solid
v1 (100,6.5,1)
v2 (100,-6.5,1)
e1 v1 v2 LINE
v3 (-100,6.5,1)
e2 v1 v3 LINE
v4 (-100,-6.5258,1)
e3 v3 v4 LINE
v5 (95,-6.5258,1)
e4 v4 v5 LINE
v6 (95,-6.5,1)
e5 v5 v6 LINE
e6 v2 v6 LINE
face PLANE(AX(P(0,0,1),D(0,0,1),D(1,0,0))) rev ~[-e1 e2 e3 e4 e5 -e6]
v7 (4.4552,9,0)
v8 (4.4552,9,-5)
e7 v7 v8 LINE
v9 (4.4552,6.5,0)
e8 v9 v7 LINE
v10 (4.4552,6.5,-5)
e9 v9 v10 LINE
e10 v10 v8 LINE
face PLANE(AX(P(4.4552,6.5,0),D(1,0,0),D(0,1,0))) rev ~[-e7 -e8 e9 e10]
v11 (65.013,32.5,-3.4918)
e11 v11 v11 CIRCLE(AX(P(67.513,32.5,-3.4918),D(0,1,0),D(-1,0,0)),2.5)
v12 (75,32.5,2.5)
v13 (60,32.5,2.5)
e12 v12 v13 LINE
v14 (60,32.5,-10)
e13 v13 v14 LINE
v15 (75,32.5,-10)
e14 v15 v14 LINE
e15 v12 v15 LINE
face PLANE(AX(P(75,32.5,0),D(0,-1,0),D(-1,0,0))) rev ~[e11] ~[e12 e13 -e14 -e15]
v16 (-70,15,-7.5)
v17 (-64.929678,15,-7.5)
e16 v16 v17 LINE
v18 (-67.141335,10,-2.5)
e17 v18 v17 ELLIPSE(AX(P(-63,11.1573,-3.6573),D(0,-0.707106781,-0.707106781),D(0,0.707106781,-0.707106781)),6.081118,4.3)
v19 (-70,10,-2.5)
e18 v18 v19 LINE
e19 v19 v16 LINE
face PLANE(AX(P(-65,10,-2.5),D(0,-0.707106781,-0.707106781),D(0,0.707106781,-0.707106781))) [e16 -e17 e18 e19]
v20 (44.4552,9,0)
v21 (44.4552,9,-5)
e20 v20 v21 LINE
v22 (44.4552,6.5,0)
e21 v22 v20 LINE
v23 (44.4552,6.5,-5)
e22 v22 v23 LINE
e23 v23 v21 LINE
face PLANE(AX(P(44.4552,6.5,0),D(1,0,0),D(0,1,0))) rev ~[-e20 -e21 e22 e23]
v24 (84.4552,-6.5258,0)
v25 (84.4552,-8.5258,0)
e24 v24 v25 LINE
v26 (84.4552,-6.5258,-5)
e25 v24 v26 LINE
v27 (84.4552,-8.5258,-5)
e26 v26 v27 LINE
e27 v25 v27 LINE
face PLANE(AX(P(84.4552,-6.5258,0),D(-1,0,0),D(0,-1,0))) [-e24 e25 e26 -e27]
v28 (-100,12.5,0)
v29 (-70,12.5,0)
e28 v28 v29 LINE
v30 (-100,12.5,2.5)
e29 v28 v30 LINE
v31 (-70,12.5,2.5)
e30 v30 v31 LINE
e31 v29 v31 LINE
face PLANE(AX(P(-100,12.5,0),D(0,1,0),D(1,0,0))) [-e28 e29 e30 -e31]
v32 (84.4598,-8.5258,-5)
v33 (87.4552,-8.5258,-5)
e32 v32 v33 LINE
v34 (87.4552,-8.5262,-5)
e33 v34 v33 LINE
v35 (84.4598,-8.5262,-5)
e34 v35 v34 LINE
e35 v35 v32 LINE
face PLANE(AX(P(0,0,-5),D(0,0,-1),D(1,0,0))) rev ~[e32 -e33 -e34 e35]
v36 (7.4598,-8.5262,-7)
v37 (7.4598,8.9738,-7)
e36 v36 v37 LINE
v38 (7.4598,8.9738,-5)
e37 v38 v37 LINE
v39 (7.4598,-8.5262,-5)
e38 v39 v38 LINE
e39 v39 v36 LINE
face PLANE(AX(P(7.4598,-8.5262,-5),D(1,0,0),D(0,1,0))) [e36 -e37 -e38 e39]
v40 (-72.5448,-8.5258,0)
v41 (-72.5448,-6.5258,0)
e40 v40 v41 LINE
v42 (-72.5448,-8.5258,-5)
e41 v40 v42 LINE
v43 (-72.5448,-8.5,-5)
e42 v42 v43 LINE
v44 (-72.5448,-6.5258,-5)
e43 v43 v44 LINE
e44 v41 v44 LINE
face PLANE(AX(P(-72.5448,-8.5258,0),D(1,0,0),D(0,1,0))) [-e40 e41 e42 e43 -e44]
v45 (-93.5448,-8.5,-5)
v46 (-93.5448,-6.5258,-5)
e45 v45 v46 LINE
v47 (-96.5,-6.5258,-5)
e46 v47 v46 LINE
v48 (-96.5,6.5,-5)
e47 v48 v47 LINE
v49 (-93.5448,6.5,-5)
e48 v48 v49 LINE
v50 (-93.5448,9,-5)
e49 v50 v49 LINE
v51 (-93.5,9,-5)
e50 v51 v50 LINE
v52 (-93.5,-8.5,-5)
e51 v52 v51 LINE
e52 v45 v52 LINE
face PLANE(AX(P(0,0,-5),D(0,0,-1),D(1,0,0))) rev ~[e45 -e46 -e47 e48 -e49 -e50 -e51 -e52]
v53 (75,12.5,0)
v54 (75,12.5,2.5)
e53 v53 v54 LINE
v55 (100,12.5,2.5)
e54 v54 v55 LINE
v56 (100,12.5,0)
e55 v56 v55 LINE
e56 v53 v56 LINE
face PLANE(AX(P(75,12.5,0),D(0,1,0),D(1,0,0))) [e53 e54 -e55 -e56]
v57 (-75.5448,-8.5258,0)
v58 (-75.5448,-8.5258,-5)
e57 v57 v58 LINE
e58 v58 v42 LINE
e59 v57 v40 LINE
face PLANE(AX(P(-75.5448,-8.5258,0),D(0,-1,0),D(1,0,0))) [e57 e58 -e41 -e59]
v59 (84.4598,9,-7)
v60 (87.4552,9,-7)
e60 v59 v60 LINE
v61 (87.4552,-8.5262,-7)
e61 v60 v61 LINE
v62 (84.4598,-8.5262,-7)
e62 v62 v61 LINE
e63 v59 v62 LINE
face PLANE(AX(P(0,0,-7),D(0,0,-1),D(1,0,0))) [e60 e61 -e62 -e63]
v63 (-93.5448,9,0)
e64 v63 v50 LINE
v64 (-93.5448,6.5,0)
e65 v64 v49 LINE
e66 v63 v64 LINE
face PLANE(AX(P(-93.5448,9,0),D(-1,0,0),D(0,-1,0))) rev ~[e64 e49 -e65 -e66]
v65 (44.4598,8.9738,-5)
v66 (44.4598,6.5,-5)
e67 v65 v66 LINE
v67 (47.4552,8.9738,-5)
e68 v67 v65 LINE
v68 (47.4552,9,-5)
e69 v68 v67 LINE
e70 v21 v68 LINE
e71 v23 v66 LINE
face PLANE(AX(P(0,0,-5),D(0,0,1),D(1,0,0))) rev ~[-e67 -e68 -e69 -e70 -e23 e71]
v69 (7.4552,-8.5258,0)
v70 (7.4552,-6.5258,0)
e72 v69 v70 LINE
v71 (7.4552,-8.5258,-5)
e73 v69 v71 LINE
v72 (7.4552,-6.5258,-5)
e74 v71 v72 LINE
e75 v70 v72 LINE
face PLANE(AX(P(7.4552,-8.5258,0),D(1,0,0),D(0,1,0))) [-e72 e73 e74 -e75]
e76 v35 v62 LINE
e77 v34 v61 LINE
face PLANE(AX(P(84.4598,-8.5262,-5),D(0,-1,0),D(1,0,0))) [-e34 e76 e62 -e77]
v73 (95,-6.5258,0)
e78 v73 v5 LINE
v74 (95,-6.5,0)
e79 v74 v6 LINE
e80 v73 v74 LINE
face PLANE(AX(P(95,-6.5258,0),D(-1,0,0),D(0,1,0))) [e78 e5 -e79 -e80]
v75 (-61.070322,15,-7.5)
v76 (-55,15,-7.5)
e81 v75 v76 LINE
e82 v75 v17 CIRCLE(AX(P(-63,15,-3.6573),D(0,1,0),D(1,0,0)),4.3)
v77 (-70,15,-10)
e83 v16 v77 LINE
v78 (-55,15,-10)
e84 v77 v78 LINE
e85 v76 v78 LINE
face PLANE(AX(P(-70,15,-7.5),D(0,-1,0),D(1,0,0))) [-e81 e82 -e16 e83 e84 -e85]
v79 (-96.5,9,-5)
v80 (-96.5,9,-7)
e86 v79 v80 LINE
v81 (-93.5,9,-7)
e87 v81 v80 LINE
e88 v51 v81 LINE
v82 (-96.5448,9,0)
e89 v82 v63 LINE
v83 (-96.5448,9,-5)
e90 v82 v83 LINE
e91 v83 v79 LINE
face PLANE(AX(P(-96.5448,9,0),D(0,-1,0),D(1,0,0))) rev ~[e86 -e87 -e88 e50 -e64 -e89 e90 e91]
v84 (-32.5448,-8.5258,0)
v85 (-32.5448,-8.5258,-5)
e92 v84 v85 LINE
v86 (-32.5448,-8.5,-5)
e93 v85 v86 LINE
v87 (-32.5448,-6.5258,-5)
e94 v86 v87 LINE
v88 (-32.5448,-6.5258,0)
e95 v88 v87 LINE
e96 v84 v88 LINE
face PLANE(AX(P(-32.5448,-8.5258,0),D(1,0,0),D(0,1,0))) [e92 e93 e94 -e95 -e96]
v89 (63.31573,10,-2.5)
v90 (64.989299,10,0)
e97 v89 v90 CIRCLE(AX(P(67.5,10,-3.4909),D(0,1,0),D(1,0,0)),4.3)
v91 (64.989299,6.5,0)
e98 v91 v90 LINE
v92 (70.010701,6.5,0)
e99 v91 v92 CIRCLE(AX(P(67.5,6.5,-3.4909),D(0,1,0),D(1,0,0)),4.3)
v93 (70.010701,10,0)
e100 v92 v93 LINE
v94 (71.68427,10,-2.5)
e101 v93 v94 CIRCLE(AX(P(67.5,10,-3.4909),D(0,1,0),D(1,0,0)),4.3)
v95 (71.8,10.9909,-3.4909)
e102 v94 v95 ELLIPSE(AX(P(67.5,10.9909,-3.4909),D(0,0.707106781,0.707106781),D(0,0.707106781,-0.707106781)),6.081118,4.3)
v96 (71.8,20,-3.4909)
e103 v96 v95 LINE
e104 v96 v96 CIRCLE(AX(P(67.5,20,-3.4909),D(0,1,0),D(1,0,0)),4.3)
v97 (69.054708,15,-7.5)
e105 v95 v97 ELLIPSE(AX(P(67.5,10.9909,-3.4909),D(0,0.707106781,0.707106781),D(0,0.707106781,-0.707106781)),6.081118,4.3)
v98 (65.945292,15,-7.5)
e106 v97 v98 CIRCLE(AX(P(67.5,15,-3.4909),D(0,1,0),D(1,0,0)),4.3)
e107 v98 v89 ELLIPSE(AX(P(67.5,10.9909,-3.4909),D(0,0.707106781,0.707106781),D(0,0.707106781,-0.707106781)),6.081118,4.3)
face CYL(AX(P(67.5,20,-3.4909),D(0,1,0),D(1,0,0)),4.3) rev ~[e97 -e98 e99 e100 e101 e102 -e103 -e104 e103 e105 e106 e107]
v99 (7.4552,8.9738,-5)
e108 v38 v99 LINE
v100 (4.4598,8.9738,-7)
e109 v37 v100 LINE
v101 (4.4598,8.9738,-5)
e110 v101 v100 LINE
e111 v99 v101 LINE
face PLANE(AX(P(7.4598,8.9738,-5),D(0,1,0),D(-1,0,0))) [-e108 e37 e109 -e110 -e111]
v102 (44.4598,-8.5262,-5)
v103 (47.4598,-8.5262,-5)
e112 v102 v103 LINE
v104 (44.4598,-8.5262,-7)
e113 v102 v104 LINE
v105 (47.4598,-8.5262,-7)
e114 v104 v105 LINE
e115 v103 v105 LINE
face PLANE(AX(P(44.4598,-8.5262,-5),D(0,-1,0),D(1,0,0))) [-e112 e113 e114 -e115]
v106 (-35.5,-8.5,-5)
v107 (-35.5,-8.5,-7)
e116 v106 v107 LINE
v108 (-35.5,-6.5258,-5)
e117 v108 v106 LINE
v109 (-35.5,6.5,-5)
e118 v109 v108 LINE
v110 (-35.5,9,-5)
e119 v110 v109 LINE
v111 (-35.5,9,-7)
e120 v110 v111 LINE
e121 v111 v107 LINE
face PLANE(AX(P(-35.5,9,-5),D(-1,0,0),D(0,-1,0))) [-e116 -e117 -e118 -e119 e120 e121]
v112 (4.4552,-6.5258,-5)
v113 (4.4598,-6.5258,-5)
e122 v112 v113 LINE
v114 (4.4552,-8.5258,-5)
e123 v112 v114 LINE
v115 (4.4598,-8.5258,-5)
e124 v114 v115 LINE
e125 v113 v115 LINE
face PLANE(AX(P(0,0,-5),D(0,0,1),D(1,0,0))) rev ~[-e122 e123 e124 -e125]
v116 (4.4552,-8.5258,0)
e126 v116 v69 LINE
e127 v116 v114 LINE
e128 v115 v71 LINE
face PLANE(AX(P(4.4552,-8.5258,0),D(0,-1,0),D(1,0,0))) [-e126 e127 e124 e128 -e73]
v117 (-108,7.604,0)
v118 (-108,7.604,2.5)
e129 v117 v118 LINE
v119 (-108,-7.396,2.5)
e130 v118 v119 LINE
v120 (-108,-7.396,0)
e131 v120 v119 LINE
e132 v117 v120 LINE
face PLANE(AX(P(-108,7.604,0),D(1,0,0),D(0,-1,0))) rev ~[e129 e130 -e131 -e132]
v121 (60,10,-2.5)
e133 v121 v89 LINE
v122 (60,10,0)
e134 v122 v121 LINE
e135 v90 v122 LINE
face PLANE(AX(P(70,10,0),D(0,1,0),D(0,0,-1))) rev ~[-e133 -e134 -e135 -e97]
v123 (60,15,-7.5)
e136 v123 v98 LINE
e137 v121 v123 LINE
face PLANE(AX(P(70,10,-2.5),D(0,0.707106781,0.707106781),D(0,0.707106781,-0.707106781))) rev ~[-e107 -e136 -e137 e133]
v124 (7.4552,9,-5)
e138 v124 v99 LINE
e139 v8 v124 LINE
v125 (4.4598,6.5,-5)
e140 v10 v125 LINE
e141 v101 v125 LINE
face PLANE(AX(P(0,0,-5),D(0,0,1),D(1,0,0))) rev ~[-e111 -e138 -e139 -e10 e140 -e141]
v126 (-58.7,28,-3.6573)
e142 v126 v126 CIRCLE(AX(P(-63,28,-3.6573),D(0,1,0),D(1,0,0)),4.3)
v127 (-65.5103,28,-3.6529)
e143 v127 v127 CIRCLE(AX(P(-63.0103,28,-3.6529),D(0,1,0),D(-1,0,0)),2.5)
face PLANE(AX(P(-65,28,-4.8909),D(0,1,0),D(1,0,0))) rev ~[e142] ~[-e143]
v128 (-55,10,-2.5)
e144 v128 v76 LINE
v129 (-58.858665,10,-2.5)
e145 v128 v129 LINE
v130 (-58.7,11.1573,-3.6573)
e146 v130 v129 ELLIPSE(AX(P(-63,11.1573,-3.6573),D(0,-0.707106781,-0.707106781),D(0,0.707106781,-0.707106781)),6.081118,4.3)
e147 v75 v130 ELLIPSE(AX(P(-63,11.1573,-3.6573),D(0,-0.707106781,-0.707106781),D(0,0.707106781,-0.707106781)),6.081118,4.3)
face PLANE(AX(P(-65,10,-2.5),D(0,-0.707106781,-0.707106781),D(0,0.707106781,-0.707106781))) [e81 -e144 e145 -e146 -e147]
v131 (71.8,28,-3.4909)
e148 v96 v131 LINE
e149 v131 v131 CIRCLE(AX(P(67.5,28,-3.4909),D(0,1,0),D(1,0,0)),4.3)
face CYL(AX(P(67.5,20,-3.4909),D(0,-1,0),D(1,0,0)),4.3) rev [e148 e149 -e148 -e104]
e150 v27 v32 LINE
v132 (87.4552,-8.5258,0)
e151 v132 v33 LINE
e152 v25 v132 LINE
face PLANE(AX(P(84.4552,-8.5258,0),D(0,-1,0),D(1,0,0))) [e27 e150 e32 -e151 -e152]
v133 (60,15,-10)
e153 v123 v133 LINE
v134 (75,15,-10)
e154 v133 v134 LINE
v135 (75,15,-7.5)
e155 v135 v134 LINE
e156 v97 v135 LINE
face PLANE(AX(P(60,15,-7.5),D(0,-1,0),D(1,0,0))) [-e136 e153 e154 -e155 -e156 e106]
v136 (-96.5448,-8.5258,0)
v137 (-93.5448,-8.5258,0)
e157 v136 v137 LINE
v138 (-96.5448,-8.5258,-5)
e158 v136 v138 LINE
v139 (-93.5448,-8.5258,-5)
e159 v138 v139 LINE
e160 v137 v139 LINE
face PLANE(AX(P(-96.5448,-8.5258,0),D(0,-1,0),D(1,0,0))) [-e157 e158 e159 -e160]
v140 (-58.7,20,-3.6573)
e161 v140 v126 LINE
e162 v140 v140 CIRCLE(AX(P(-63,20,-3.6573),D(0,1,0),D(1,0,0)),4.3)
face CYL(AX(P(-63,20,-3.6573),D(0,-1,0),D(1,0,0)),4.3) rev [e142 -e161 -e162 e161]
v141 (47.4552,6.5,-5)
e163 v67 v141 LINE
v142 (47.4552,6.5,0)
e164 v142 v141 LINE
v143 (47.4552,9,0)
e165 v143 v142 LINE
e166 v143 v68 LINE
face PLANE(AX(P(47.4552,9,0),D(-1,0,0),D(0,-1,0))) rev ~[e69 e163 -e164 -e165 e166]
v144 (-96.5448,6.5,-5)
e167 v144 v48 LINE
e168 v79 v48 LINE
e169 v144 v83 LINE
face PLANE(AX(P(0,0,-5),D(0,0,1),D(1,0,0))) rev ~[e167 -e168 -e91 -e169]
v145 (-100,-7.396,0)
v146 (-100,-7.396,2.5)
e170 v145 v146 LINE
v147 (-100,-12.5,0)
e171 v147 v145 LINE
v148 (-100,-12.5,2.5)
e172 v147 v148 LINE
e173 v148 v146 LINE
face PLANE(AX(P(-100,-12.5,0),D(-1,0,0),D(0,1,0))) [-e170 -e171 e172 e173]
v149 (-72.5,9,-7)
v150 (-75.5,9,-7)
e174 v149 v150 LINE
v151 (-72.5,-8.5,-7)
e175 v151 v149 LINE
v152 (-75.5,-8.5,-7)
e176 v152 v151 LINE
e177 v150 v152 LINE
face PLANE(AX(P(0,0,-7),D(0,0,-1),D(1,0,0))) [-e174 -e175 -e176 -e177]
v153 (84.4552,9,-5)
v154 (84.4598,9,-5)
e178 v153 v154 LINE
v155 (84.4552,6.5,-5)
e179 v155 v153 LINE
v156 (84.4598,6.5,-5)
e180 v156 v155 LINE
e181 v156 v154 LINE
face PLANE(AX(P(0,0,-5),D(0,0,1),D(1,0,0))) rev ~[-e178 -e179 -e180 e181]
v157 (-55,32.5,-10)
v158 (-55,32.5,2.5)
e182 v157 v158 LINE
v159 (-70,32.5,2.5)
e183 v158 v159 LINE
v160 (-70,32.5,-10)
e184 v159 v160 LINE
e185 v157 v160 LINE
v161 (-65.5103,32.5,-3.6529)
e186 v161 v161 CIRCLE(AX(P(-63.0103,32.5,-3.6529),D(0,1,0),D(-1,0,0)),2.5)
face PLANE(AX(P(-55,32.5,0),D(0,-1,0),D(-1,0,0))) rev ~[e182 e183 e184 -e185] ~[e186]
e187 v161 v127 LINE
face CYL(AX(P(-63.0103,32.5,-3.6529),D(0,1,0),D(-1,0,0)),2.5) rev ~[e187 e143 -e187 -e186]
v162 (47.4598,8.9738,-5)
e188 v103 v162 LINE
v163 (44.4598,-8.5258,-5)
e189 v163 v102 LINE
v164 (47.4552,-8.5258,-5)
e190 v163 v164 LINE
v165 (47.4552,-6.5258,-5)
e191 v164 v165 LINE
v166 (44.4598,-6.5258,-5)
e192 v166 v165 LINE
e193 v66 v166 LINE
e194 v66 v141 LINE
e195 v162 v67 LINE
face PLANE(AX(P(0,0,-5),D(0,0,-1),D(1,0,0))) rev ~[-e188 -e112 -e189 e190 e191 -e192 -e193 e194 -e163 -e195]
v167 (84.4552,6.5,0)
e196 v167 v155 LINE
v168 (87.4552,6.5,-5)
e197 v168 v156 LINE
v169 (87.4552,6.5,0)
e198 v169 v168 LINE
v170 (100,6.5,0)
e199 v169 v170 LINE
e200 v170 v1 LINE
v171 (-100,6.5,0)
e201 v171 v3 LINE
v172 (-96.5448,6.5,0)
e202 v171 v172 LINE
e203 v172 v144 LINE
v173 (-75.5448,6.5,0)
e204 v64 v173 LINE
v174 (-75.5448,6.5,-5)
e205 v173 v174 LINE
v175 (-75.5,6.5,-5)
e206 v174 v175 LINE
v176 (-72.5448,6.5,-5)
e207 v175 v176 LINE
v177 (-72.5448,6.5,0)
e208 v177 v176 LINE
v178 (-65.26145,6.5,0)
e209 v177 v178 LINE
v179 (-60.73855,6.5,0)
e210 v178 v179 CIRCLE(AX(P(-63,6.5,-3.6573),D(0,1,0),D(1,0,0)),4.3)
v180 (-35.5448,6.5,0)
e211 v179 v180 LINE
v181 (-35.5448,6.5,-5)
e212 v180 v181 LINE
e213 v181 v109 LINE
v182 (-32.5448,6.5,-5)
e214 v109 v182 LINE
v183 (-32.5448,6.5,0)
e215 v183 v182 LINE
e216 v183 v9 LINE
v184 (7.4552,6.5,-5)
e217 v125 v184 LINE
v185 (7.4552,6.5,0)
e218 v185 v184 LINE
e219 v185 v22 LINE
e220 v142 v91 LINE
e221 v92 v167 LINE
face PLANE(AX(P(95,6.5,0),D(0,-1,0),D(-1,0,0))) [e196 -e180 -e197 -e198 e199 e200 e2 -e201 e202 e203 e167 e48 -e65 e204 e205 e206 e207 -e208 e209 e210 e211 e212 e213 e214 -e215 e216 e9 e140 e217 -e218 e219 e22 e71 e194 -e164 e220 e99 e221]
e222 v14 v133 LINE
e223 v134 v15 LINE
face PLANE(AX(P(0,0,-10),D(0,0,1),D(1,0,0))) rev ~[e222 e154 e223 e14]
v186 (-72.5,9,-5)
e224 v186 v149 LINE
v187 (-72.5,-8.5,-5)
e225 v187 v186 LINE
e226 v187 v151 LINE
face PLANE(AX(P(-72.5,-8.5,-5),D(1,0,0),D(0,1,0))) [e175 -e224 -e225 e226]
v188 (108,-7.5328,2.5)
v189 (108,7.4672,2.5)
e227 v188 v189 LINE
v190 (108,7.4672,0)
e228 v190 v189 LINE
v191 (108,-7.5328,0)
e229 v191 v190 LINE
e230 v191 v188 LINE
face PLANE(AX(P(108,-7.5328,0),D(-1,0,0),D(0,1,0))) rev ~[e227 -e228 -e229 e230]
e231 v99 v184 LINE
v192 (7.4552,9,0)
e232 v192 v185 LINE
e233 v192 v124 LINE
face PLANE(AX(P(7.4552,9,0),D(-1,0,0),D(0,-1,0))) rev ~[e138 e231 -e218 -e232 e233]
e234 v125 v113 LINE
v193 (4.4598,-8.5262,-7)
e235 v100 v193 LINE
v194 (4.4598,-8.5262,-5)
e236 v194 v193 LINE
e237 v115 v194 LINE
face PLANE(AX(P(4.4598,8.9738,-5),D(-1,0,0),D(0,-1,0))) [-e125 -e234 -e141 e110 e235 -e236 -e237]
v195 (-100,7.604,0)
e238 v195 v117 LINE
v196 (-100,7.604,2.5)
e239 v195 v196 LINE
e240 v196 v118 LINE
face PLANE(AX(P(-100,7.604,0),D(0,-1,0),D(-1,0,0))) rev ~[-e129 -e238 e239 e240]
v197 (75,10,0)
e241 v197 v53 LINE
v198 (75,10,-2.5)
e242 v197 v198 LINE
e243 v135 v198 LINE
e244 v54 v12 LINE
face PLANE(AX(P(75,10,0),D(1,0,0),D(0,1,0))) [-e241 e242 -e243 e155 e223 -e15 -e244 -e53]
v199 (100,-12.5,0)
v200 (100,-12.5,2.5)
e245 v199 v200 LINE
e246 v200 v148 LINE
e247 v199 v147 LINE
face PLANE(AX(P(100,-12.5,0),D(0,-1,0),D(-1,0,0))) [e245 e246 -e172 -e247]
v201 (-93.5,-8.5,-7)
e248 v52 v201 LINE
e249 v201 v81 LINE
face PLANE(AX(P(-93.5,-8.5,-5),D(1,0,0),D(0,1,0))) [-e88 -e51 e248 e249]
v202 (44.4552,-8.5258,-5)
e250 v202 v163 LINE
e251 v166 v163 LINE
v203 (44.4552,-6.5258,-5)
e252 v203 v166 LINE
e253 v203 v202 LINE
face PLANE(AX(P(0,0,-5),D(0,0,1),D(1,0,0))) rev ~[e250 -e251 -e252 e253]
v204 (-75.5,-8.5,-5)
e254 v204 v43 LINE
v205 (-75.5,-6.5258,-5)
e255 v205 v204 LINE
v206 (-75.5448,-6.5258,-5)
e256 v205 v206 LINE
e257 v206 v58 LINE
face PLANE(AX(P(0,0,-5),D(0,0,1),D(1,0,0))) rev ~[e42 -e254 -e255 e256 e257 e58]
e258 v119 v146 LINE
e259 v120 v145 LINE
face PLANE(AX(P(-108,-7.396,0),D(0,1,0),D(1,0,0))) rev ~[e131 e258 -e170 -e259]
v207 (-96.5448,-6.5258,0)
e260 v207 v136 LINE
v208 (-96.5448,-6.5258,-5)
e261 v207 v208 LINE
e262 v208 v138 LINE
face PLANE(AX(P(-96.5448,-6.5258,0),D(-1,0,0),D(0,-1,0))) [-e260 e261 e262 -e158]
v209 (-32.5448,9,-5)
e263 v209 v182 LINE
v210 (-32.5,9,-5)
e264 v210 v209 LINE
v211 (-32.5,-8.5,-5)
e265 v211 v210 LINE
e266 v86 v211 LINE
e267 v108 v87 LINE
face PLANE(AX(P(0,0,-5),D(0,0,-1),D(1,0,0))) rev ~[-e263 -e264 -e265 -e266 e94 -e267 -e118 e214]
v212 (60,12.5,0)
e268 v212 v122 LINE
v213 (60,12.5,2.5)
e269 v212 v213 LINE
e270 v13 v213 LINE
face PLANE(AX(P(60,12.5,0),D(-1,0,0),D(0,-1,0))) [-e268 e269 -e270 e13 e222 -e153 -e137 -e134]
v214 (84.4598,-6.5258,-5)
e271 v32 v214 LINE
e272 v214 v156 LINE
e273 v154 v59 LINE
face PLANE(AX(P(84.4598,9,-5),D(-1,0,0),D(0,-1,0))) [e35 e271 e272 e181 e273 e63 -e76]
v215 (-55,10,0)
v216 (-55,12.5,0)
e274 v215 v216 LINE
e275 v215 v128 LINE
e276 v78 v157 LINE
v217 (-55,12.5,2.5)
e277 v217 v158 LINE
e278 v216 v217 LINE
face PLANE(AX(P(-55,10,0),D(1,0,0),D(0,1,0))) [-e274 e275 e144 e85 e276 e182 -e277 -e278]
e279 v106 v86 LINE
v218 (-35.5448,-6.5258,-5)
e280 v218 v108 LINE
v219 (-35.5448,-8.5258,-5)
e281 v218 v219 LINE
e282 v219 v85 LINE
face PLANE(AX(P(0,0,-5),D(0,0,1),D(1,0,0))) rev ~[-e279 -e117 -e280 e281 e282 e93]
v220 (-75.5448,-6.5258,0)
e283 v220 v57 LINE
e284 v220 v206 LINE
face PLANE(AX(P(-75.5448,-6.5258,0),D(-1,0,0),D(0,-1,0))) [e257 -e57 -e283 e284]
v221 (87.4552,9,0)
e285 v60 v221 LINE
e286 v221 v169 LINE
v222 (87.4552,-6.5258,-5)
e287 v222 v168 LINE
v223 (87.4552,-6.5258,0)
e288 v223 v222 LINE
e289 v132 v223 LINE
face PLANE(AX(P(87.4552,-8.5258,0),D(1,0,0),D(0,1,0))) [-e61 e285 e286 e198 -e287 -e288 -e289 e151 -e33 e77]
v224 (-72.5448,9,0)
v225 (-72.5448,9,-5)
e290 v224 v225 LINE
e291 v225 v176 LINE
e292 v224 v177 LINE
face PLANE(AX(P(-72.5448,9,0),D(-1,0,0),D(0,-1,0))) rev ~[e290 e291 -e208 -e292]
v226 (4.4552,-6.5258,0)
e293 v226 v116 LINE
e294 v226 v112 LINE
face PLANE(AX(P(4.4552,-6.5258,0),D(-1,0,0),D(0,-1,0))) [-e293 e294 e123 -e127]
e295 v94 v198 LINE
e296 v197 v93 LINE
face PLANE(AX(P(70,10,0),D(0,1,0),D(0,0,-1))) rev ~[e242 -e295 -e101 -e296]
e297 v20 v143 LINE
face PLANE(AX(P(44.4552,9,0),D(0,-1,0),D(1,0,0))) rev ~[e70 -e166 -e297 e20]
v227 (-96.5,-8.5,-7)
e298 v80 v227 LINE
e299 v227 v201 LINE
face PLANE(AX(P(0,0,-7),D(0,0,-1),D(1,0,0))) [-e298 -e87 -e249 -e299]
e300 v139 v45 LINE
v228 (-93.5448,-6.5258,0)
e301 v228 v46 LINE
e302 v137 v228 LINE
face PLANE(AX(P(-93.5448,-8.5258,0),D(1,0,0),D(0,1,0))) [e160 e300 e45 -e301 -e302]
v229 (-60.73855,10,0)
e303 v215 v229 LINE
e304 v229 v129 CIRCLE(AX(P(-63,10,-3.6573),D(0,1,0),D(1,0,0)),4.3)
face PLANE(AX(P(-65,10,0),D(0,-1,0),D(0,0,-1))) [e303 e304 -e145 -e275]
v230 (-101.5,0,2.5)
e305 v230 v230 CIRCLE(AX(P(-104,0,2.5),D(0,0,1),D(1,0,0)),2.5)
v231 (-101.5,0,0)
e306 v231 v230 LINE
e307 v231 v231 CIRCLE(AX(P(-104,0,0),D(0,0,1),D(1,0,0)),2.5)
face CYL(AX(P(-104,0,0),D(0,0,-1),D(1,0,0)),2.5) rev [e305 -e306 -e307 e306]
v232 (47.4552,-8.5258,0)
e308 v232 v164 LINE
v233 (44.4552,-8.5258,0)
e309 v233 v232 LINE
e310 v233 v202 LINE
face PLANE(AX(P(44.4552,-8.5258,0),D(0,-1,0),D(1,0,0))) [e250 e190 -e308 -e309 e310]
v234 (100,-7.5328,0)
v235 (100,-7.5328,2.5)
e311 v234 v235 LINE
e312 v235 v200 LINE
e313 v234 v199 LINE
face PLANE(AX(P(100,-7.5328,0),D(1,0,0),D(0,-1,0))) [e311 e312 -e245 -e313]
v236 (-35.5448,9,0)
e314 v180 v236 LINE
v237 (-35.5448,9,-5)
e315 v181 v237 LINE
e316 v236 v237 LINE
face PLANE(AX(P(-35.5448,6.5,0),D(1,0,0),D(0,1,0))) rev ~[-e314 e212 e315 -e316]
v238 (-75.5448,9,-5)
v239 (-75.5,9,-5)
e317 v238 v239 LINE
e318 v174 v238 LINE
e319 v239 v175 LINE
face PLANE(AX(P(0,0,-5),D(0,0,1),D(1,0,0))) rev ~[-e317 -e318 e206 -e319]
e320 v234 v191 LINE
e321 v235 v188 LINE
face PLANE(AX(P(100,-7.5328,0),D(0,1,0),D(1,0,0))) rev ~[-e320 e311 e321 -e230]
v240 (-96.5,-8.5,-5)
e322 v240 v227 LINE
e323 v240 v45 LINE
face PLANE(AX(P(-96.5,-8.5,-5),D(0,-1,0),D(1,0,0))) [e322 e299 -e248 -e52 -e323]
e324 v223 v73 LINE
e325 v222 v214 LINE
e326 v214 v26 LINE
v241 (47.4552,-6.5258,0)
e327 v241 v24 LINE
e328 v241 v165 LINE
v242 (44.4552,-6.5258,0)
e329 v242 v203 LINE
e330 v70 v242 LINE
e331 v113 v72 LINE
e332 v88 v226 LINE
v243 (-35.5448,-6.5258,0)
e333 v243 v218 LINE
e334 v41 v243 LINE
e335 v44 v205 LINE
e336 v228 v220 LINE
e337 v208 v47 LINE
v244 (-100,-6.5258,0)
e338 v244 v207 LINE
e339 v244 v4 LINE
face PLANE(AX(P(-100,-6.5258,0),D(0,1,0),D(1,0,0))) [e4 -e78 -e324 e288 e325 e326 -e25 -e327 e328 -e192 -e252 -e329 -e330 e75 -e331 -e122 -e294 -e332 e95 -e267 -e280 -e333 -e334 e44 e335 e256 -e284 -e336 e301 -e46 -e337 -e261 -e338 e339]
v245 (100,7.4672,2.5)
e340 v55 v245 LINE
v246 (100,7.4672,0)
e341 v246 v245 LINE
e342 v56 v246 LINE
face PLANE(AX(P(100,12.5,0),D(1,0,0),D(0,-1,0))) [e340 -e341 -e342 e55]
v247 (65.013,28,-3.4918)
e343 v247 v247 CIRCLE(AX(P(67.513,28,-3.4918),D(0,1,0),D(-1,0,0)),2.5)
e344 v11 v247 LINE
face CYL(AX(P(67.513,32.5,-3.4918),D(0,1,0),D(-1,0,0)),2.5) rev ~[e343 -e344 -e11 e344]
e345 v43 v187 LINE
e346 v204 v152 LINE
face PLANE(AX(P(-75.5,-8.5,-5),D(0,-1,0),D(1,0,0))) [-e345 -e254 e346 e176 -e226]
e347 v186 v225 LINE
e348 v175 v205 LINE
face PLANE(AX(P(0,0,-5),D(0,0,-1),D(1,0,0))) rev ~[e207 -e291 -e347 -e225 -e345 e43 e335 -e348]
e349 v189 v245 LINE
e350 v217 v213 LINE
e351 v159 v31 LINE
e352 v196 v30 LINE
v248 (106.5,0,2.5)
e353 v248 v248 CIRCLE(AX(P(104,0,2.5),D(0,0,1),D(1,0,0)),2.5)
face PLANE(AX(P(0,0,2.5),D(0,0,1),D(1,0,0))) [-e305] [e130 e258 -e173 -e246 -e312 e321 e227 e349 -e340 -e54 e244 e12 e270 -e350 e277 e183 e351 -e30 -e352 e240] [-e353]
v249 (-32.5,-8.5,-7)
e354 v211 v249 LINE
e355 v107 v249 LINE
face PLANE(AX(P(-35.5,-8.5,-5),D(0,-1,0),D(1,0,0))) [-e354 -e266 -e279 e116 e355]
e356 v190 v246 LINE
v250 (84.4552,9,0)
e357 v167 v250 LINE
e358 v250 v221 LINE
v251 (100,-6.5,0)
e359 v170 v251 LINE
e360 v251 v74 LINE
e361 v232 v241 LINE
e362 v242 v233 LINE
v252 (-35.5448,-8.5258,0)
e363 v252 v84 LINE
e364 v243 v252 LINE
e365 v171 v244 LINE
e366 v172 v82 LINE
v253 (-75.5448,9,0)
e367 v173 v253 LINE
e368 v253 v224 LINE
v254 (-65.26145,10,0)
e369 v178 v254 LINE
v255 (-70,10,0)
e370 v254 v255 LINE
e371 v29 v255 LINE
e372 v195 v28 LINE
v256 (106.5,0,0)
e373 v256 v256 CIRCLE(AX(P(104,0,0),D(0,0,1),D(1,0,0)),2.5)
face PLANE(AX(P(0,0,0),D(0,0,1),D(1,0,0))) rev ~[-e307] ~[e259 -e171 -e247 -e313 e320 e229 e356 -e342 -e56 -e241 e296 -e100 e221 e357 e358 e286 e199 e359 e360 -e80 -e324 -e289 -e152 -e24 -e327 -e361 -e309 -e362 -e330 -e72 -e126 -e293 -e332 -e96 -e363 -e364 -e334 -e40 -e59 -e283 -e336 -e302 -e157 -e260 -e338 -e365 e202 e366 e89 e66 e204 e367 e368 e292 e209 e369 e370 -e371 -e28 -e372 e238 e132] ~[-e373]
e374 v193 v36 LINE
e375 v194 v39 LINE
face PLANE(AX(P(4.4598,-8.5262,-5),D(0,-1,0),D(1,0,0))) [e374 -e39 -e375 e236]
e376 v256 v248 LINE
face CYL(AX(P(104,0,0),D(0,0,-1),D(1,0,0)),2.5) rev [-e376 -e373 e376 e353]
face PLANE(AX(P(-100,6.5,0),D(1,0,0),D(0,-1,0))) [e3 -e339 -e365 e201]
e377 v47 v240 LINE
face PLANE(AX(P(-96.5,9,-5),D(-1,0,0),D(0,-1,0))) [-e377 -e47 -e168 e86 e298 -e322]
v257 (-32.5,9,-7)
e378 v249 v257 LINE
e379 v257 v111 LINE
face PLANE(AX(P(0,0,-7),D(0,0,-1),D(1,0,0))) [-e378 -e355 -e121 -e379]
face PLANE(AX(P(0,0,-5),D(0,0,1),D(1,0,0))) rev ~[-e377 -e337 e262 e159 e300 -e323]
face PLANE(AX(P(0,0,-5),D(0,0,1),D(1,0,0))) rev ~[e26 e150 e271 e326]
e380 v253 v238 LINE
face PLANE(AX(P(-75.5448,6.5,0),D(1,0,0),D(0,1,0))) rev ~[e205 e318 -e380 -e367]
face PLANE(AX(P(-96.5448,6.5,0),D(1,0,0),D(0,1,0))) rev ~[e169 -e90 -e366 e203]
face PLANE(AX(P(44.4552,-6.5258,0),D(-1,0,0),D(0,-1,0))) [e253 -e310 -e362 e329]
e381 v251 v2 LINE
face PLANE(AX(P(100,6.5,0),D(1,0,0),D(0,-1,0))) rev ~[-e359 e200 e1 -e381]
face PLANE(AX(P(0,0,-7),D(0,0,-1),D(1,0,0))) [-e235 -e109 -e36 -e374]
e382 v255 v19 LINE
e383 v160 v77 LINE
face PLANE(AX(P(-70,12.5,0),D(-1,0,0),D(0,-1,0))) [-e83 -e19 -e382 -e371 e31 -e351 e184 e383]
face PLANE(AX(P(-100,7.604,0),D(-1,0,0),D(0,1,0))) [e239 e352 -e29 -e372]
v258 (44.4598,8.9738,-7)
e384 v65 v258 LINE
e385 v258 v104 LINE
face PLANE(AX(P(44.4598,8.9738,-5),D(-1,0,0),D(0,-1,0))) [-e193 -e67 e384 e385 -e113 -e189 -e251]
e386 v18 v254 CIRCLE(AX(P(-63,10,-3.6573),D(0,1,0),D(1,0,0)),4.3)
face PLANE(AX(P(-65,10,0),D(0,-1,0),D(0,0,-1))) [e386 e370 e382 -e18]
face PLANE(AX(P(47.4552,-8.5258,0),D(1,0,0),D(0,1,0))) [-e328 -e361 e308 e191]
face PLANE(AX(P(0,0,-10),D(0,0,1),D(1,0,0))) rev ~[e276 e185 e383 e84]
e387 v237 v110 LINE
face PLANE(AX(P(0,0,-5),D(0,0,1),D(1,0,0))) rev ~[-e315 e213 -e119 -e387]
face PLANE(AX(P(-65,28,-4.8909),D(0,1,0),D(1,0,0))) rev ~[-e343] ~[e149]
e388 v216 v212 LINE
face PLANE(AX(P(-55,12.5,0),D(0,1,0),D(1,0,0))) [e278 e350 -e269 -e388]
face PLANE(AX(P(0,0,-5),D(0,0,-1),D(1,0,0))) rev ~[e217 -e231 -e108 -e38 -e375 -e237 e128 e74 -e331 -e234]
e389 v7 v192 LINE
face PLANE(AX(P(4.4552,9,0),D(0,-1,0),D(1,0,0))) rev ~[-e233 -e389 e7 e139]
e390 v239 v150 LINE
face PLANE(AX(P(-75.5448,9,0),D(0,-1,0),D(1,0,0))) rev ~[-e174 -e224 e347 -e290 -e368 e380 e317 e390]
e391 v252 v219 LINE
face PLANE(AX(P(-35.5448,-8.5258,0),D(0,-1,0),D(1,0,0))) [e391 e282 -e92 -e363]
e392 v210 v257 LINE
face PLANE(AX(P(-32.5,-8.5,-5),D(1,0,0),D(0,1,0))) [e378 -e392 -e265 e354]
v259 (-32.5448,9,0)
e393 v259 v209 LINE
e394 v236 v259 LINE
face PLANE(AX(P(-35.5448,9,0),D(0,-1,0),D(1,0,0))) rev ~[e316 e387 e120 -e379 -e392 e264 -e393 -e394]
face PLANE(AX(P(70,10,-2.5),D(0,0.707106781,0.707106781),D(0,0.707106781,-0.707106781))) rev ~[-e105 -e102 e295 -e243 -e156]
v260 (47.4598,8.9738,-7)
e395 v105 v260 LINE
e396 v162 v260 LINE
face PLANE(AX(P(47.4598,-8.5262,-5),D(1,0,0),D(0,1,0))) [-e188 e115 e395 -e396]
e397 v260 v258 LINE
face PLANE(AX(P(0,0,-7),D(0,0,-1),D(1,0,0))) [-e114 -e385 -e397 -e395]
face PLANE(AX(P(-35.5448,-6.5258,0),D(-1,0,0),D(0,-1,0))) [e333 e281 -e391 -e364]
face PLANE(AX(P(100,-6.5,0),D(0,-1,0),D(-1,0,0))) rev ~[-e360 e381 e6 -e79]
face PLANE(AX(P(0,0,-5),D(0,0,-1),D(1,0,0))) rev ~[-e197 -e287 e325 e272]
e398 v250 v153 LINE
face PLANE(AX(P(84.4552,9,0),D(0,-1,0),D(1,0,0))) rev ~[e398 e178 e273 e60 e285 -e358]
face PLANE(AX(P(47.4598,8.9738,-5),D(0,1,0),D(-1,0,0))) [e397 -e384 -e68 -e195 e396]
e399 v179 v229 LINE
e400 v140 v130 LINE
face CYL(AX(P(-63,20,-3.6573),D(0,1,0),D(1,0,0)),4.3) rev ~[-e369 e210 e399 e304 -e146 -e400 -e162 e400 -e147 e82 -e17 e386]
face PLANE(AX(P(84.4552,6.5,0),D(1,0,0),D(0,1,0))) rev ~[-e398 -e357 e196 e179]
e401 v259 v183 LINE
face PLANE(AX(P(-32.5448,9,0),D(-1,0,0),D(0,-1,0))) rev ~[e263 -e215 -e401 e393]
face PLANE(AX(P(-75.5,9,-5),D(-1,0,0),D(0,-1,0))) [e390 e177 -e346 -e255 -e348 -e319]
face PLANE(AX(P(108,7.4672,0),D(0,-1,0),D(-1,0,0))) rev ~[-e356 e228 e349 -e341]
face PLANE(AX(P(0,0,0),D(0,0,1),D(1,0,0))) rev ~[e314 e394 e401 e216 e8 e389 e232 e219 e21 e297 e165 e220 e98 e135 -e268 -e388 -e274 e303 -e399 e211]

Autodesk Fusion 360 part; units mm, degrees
sketch "Sketch1" plane through (0, 0, 0) normal (0, 0, 1) x (1, 0, 0)
  line L0 (100, -12.5) -> (-100, -12.5)
  line L1 (-100, -12.5) -> (-100, 12.5)
  line L2 (-100, 12.5) -> (100, 12.5)
  line L3 (100, 12.5) -> (100, -12.5)
  line L4 (100, -12.5) -> (-100, 12.5) construction
  line L5 (-100, -12.5) -> (100, 12.5) construction
  line L6 (-100, 12.5) -> (-70, 12.5) construction
  line L7 (-70, 12.5) -> (-70, 10.5) construction
  line L8 (-70, 10.5) -> (-100, 10.5) construction
  line L9 (-100, 10.5) -> (-100, 12.5) construction
  line L10 (100, 12.5) -> (70, 12.5) construction
  line L11 (70, 12.5) -> (70, 10.5) construction
  line L12 (70, 10.5) -> (100, 10.5) construction
  line L13 (100, 10.5) -> (100, 12.5) construction
  line L14 (-70, 12.5) -> (-55, 12.5)
  line L15 (-55, 12.5) -> (-55, 32.5)
  line L16 (-55, 32.5) -> (-70, 32.5)
  line L17 (-70, 32.5) -> (-70, 12.5)
  line L18 (60, 32.5) -> (60, 12.5)
  line L19 (75, 12.5) -> (75, 32.5)
  line L20 (75, 32.5) -> (60, 32.5)
  line L21 (100, -7.5328) -> (108, -7.5328)
  line L22 (108, -7.5328) -> (108, 7.4672)
  line L23 (108, 7.4672) -> (100, 7.4672)
  line L24 (100, 7.4672) -> (100, -7.5328)
  circle A0 centre (104, 0) radius 2.5
  line L25 (-108, 7.604) -> (-108, -7.396)
  circle A1 centre (-104, 0) radius 2.5
  line L26 (-100, 7.604) -> (-108, 7.604)
  line L27 (-108, -7.396) -> (-100, -7.396)
  line L28 (60, 12.5) -> (75, 12.5)
  dimension "d1" = 200
  dimension "d2" = 25
  dimension "d3" = 30
  dimension "d4" = 2
  dimension "d5" = 30
  dimension "d6" = 2
  dimension "d7" = 15
  dimension "d8" = 20
  dimension "d9" = 15
  dimension "d10" = 20
  dimension "d11" = 15
  dimension "d12" = 8
  dimension "d13" = 5
  dimension "d14" = 15
  dimension "d15" = 8
  dimension "d16" = 5
extrude "Extrude1" add sketch "Sketch1" along normal blind 2.5
extrude "Extrude2" add sketch "Sketch1" against normal blind 7.5 contours L2 L18 L19 L20 L28 | L2 L14 L15 L16 L17
sketch "Sketch2" plane through (0, 0, 0) normal (0, 0, 1) x (1, 0, 0)
  line L0 (-55, 12.5) -> (-65, 12.5)
  line L1 (-65, 12.5) -> (-65, 10)
  line L2 (-65, 10) -> (-55, 10)
  line L3 (-55, 10) -> (-55, 12.5)
  line L4 (70, 12.5) -> (60, 12.5)
  line L5 (60, 12.5) -> (60, 10)
  line L6 (60, 10) -> (70, 10)
  line L7 (70, 10) -> (70, 12.5)
  point P0 (-55, 12.5)
  point P1 (70, 12.5)
extrude "Extrude3" add sketch "Sketch2" against normal blind 7.5
chamfer "Chamfer1" distance 5 angle 45 2 edges at (65, 10, -7.5) (-60, 10, -7.5)
sketch "Sketch3" plane through (0, 32.5, 0) normal (0, 1, 0) x (-1, 0, 0)
  line L0 (70, -7.5) -> (70, 2.5)
  line L1 (70, 2.5) -> (55, 2.5)
  line L2 (55, 2.5) -> (55, -7.5)
  line L3 (55, -7.5) -> (70, -7.5)
  circle A0 centre (63.0103, -3.6529) radius 2.5
  circle A1 centre (-67.513, -3.4918) radius 2.5
  dimension "d24" = 5
  dimension "d25" = 5
extrude "Extrude4" cut sketch "Sketch3" against normal blind 15 contours A0 | A1
ref_plane "WorkPlane1" through (-62.5, 20, -2.5) normal (0, 1, 0) x (-1, 0, 0)
sketch "Sketch4" plane through (-65, 20, -4.8909) normal (0, 1, 0) x (1, 0, 0)
  circle A0 centre (2, -1.2336) radius 4.3
  circle A1 centre (132.5, -1.4) radius 4.3
  dimension "d31" = 8.6
  dimension "d32" = 8.6
extrude "Extrude5" add 2 faces at (-65, 26.6667, -7.5) (65, 26.6667, -7.5) along direction (0, 0, -1) blind 2.5
extrude "Extrude6" cut sketch "Sketch4" along normal blind 8
sketch "Sketch5" plane through (0, 0, 0) normal (0, 0, 1) x (1, 0, 0)
  line L0 (95, -6.5) -> (95, 6.5) construction
  line L1 (-95, 6.5) -> (-95, -6.5) construction
  line L2 (-95, -6.5) -> (95, 6.5) construction
  line L3 (95, -6.5) -> (-95, 6.5) construction
  line L4 (87.4552, 6.5) -> (84.4552, 6.5)
  line L5 (84.4552, 6.5) -> (84.4552, 9)
  line L6 (84.4552, 9) -> (87.4552, 9)
  line L7 (87.4552, 9) -> (87.4552, 6.5)
  line L8 (87.4552, 6.5) -> (84.4552, 6.5) construction
  line L9 (84.4552, 6.5) -> (84.4552, -6.5258) construction
  line L10 (84.4552, -6.5258) -> (87.4552, -6.5258) construction
  line L11 (87.4552, -6.5258) -> (87.4552, 6.5) construction
  line L12 (87.4552, -6.5258) -> (84.4552, -6.5258)
  line L13 (84.4552, -6.5258) -> (84.4552, -8.5258)
  line L14 (84.4552, -8.5258) -> (87.4552, -8.5258)
  line L15 (87.4552, -8.5258) -> (87.4552, -6.5258)
  line L16 (44.4552, 6.5) -> (44.4552, 9)
  line L17 (44.4552, -6.5258) -> (47.4552, -6.5258) construction
  line L18 (44.4552, -6.5258) -> (47.4552, -6.5258) construction
  line L19 (44.4552, -6.5258) -> (44.4552, -8.5258)
  line L20 (44.4552, -8.5258) -> (47.4552, -8.5258)
  line L21 (47.4552, -8.5258) -> (47.4552, -6.5258)
  line L22 (47.4552, 6.5) -> (44.4552, 6.5) construction
  line L23 (44.4552, 6.5) -> (44.4552, 9)
  line L24 (44.4552, 9) -> (47.4552, 9)
  line L25 (47.4552, 9) -> (47.4552, 6.5)
  line L26 (4.4552, 6.5) -> (4.4552, 9)
  line L27 (7.4552, 9) -> (7.4552, 6.5)
  line L28 (4.4552, 9) -> (7.4552, 9)
  line L29 (7.4552, -8.5258) -> (7.4552, -6.5258)
  line L30 (4.4552, -8.5258) -> (7.4552, -8.5258)
  line L31 (4.4552, -6.5258) -> (4.4552, -8.5258)
  line L32 (-75.5448, 9) -> (-72.5448, 9)
  line L33 (-75.5448, 6.5) -> (-75.5448, 9)
  line L34 (-72.5448, 9) -> (-72.5448, 6.5)
  line L35 (-75.5448, -8.5258) -> (-72.5448, -8.5258)
  line L36 (-72.5448, -8.5258) -> (-72.5448, -6.5258)
  line L37 (-75.5448, -6.5258) -> (-75.5448, -8.5258)
  line L38 (-35.5448, -6.5258) -> (-35.5448, -8.5258)
  line L39 (-35.5448, -8.5258) -> (-32.5448, -8.5258)
  line L40 (-32.5448, -8.5258) -> (-32.5448, -6.5258)
  line L41 (-35.5448, 6.5) -> (-35.5448, 9)
  line L42 (-35.5448, 9) -> (-32.5448, 9)
  line L43 (-32.5448, 9) -> (-32.5448, 6.5)
  line L44 (-96.5448, 6.5) -> (-96.5448, 9)
  line L45 (-93.5448, 9) -> (-93.5448, 6.5)
  line L46 (-96.5448, 9) -> (-93.5448, 9)
  line L47 (-96.5448, -6.5258) -> (-96.5448, -8.5258)
  line L48 (-96.5448, -8.5258) -> (-93.5448, -8.5258)
  line L49 (-93.5448, -8.5258) -> (-93.5448, -6.5258)
  line L50 (-96.5448, -6.5258) -> (-93.5448, -6.5258)
  line L51 (-96.5448, 6.5) -> (-93.5448, 6.5)
  line L52 (-75.5448, 6.5) -> (-72.5448, 6.5)
  line L53 (-75.5448, -6.5258) -> (-75, -6.5258)
  line L54 (-75, -6.5258) -> (-72.5448, -6.5258)
  line L55 (-35.5448, 6.5) -> (-32.5448, 6.5)
  line L56 (-35.5448, -6.5258) -> (-32.5448, -6.5258)
  line L57 (4.4552, -6.5258) -> (7.4552, -6.5258)
  line L58 (4.4552, 6.5) -> (7.4552, 6.5)
  line L59 (44.4552, -6.5258) -> (47.4552, -6.5258)
  line L60 (44.4552, 6.5) -> (47.4552, 6.5)
  dimension "d37" = 190
  dimension "d38" = 13
  dimension "d39" = 3
  dimension "d40" = 2.5
  dimension "d41" = 3
  dimension "d42" = 3
  dimension "d43" = 2
  dimension "d52" = 3
  dimension "d53" = 2.5
  dimension "d54" = 3
  dimension "d55" = 3
  dimension "d56" = 2
  dimension "d57" = 2.5
  dimension "d58" = 3
  dimension "d59" = 2
  dimension "d60" = 2.5
  dimension "d61" = 3
  dimension "d62" = 2
  dimension "d63" = 2.5
  dimension "d64" = 3
  dimension "d65" = 2
  dimension "d66" = 2.5
  dimension "d67" = 3
  dimension "d68" = 2
extrude "Extrude7" add sketch "Sketch5" against normal blind 5 contours L4 L5 L6 L7 | L12 L13 L14 L15
extrude "Extrude9" add sketch "Sketch5" against normal blind 5 contours L16 L23 L24 L25 L60 | L19 L20 L21 L59 | L26 L27 L28 L58 | L29 L30 L31 L57 | L32 L33 L34 L52 | L35 L36 L37 L53 L54 | L38 L39 L40 L56 | L41 L42 L43 L55 | L44 L45 L46 L51 | L47 L48 L49 L50
sketch "Sketch7" plane through (0, 0, -5) normal (0, 0, -1) x (1, 0, 0)
  line L0 (84.4552, -9) -> (87.4552, -9)
  line L1 (87.4552, -9) -> (87.4552, -6.5)
  line L2 (87.4552, -6.5) -> (84.4552, -6.5)
  line L3 (84.4552, -6.5) -> (84.4552, -9)
  line L4 (87.4552, -9) -> (84.4598, -9)
  line L5 (84.4598, -9) -> (84.4598, 8.5262)
  line L6 (84.4598, 8.5262) -> (87.4552, 8.5262)
  line L7 (87.4552, 8.5262) -> (87.4552, -9)
  line L8 (47.4598, -8.9738) -> (44.4598, -8.9738)
  line L9 (44.4598, -8.9738) -> (44.4598, 8.5262)
  line L10 (44.4598, 8.5262) -> (47.4598, 8.5262)
  line L11 (47.4598, 8.5262) -> (47.4598, -8.9738)
  line L12 (7.4598, -8.9738) -> (4.4598, -8.9738)
  line L13 (4.4598, -8.9738) -> (4.4598, 8.5262)
  line L14 (4.4598, 8.5262) -> (7.4598, 8.5262)
  line L15 (7.4598, 8.5262) -> (7.4598, -8.9738)
  line L16 (-32.5, -9) -> (-35.5, -9)
  line L17 (-35.5, -9) -> (-35.5, 8.5)
  line L18 (-35.5, 8.5) -> (-32.5, 8.5)
  line L19 (-32.5, 8.5) -> (-32.5, -9)
  line L20 (-72.5, -9) -> (-75.5, -9)
  line L21 (-75.5, -9) -> (-75.5, 8.5)
  line L22 (-75.5, 8.5) -> (-72.5, 8.5)
  line L23 (-72.5, 8.5) -> (-72.5, -9)
  line L24 (-93.5, -9) -> (-96.5, -9)
  line L25 (-96.5, -9) -> (-96.5, 8.5)
  line L26 (-96.5, 8.5) -> (-93.5, 8.5)
  line L27 (-93.5, 8.5) -> (-93.5, -9)
  dimension "d71" = 3
  dimension "d72" = 17.5
  dimension "d73" = 3
  dimension "d74" = 17.5
  dimension "d75" = 3
  dimension "d76" = 17.5
  dimension "d77" = 3
  dimension "d78" = 17.5
extrude "Extrude10" add sketch "Sketch7" along normal blind 2 contours L0 L1 L2 L4 L5 L7 | L2 L5 L6 L7 | L8 L9 L10 L11 | L12 L13 L14 L15 | L16 L17 L18 L19 | L20 L21 L22 L23 | L24 L25 L26 L27
sketch "Sketch8" plane through (0, 0, 0) normal (0, 0, 1) x (1, 0, 0)
  line L0 (95, 6.5) -> (-100, 6.5)
  line L1 (-100, 6.5) -> (-100, -6.5258)
  line L2 (-100, -6.5258) -> (95, -6.5258)
  line L3 (95, -6.5258) -> (95, 6.5)
  line L4 (-100, -12.5) -> (-100, 12.5)
  line L5 (95, 6.5) -> (100, 6.5)
  line L6 (100, 6.5) -> (100, -6.5)
  line L7 (100, -6.5) -> (95, -6.5)
  line L8 (95, -6.5) -> (95, 6.5)
  point P0 (95, 6.5)
  dimension "d81" = 13
extrude "Extrude11" cut sketch "Sketch8" along normal blind 1
extrude "Extrude12" add 1 faces at (70, 11.6667, -2.5) along direction (1, 0, 0) blind 5
extrude "Extrude13" add 1 faces at (-65, 11.6667, -2.5) along direction (-1, 0, 0) blind 5
extrude "Extrude14" cut sketch "Sketch4" against normal blind 17
